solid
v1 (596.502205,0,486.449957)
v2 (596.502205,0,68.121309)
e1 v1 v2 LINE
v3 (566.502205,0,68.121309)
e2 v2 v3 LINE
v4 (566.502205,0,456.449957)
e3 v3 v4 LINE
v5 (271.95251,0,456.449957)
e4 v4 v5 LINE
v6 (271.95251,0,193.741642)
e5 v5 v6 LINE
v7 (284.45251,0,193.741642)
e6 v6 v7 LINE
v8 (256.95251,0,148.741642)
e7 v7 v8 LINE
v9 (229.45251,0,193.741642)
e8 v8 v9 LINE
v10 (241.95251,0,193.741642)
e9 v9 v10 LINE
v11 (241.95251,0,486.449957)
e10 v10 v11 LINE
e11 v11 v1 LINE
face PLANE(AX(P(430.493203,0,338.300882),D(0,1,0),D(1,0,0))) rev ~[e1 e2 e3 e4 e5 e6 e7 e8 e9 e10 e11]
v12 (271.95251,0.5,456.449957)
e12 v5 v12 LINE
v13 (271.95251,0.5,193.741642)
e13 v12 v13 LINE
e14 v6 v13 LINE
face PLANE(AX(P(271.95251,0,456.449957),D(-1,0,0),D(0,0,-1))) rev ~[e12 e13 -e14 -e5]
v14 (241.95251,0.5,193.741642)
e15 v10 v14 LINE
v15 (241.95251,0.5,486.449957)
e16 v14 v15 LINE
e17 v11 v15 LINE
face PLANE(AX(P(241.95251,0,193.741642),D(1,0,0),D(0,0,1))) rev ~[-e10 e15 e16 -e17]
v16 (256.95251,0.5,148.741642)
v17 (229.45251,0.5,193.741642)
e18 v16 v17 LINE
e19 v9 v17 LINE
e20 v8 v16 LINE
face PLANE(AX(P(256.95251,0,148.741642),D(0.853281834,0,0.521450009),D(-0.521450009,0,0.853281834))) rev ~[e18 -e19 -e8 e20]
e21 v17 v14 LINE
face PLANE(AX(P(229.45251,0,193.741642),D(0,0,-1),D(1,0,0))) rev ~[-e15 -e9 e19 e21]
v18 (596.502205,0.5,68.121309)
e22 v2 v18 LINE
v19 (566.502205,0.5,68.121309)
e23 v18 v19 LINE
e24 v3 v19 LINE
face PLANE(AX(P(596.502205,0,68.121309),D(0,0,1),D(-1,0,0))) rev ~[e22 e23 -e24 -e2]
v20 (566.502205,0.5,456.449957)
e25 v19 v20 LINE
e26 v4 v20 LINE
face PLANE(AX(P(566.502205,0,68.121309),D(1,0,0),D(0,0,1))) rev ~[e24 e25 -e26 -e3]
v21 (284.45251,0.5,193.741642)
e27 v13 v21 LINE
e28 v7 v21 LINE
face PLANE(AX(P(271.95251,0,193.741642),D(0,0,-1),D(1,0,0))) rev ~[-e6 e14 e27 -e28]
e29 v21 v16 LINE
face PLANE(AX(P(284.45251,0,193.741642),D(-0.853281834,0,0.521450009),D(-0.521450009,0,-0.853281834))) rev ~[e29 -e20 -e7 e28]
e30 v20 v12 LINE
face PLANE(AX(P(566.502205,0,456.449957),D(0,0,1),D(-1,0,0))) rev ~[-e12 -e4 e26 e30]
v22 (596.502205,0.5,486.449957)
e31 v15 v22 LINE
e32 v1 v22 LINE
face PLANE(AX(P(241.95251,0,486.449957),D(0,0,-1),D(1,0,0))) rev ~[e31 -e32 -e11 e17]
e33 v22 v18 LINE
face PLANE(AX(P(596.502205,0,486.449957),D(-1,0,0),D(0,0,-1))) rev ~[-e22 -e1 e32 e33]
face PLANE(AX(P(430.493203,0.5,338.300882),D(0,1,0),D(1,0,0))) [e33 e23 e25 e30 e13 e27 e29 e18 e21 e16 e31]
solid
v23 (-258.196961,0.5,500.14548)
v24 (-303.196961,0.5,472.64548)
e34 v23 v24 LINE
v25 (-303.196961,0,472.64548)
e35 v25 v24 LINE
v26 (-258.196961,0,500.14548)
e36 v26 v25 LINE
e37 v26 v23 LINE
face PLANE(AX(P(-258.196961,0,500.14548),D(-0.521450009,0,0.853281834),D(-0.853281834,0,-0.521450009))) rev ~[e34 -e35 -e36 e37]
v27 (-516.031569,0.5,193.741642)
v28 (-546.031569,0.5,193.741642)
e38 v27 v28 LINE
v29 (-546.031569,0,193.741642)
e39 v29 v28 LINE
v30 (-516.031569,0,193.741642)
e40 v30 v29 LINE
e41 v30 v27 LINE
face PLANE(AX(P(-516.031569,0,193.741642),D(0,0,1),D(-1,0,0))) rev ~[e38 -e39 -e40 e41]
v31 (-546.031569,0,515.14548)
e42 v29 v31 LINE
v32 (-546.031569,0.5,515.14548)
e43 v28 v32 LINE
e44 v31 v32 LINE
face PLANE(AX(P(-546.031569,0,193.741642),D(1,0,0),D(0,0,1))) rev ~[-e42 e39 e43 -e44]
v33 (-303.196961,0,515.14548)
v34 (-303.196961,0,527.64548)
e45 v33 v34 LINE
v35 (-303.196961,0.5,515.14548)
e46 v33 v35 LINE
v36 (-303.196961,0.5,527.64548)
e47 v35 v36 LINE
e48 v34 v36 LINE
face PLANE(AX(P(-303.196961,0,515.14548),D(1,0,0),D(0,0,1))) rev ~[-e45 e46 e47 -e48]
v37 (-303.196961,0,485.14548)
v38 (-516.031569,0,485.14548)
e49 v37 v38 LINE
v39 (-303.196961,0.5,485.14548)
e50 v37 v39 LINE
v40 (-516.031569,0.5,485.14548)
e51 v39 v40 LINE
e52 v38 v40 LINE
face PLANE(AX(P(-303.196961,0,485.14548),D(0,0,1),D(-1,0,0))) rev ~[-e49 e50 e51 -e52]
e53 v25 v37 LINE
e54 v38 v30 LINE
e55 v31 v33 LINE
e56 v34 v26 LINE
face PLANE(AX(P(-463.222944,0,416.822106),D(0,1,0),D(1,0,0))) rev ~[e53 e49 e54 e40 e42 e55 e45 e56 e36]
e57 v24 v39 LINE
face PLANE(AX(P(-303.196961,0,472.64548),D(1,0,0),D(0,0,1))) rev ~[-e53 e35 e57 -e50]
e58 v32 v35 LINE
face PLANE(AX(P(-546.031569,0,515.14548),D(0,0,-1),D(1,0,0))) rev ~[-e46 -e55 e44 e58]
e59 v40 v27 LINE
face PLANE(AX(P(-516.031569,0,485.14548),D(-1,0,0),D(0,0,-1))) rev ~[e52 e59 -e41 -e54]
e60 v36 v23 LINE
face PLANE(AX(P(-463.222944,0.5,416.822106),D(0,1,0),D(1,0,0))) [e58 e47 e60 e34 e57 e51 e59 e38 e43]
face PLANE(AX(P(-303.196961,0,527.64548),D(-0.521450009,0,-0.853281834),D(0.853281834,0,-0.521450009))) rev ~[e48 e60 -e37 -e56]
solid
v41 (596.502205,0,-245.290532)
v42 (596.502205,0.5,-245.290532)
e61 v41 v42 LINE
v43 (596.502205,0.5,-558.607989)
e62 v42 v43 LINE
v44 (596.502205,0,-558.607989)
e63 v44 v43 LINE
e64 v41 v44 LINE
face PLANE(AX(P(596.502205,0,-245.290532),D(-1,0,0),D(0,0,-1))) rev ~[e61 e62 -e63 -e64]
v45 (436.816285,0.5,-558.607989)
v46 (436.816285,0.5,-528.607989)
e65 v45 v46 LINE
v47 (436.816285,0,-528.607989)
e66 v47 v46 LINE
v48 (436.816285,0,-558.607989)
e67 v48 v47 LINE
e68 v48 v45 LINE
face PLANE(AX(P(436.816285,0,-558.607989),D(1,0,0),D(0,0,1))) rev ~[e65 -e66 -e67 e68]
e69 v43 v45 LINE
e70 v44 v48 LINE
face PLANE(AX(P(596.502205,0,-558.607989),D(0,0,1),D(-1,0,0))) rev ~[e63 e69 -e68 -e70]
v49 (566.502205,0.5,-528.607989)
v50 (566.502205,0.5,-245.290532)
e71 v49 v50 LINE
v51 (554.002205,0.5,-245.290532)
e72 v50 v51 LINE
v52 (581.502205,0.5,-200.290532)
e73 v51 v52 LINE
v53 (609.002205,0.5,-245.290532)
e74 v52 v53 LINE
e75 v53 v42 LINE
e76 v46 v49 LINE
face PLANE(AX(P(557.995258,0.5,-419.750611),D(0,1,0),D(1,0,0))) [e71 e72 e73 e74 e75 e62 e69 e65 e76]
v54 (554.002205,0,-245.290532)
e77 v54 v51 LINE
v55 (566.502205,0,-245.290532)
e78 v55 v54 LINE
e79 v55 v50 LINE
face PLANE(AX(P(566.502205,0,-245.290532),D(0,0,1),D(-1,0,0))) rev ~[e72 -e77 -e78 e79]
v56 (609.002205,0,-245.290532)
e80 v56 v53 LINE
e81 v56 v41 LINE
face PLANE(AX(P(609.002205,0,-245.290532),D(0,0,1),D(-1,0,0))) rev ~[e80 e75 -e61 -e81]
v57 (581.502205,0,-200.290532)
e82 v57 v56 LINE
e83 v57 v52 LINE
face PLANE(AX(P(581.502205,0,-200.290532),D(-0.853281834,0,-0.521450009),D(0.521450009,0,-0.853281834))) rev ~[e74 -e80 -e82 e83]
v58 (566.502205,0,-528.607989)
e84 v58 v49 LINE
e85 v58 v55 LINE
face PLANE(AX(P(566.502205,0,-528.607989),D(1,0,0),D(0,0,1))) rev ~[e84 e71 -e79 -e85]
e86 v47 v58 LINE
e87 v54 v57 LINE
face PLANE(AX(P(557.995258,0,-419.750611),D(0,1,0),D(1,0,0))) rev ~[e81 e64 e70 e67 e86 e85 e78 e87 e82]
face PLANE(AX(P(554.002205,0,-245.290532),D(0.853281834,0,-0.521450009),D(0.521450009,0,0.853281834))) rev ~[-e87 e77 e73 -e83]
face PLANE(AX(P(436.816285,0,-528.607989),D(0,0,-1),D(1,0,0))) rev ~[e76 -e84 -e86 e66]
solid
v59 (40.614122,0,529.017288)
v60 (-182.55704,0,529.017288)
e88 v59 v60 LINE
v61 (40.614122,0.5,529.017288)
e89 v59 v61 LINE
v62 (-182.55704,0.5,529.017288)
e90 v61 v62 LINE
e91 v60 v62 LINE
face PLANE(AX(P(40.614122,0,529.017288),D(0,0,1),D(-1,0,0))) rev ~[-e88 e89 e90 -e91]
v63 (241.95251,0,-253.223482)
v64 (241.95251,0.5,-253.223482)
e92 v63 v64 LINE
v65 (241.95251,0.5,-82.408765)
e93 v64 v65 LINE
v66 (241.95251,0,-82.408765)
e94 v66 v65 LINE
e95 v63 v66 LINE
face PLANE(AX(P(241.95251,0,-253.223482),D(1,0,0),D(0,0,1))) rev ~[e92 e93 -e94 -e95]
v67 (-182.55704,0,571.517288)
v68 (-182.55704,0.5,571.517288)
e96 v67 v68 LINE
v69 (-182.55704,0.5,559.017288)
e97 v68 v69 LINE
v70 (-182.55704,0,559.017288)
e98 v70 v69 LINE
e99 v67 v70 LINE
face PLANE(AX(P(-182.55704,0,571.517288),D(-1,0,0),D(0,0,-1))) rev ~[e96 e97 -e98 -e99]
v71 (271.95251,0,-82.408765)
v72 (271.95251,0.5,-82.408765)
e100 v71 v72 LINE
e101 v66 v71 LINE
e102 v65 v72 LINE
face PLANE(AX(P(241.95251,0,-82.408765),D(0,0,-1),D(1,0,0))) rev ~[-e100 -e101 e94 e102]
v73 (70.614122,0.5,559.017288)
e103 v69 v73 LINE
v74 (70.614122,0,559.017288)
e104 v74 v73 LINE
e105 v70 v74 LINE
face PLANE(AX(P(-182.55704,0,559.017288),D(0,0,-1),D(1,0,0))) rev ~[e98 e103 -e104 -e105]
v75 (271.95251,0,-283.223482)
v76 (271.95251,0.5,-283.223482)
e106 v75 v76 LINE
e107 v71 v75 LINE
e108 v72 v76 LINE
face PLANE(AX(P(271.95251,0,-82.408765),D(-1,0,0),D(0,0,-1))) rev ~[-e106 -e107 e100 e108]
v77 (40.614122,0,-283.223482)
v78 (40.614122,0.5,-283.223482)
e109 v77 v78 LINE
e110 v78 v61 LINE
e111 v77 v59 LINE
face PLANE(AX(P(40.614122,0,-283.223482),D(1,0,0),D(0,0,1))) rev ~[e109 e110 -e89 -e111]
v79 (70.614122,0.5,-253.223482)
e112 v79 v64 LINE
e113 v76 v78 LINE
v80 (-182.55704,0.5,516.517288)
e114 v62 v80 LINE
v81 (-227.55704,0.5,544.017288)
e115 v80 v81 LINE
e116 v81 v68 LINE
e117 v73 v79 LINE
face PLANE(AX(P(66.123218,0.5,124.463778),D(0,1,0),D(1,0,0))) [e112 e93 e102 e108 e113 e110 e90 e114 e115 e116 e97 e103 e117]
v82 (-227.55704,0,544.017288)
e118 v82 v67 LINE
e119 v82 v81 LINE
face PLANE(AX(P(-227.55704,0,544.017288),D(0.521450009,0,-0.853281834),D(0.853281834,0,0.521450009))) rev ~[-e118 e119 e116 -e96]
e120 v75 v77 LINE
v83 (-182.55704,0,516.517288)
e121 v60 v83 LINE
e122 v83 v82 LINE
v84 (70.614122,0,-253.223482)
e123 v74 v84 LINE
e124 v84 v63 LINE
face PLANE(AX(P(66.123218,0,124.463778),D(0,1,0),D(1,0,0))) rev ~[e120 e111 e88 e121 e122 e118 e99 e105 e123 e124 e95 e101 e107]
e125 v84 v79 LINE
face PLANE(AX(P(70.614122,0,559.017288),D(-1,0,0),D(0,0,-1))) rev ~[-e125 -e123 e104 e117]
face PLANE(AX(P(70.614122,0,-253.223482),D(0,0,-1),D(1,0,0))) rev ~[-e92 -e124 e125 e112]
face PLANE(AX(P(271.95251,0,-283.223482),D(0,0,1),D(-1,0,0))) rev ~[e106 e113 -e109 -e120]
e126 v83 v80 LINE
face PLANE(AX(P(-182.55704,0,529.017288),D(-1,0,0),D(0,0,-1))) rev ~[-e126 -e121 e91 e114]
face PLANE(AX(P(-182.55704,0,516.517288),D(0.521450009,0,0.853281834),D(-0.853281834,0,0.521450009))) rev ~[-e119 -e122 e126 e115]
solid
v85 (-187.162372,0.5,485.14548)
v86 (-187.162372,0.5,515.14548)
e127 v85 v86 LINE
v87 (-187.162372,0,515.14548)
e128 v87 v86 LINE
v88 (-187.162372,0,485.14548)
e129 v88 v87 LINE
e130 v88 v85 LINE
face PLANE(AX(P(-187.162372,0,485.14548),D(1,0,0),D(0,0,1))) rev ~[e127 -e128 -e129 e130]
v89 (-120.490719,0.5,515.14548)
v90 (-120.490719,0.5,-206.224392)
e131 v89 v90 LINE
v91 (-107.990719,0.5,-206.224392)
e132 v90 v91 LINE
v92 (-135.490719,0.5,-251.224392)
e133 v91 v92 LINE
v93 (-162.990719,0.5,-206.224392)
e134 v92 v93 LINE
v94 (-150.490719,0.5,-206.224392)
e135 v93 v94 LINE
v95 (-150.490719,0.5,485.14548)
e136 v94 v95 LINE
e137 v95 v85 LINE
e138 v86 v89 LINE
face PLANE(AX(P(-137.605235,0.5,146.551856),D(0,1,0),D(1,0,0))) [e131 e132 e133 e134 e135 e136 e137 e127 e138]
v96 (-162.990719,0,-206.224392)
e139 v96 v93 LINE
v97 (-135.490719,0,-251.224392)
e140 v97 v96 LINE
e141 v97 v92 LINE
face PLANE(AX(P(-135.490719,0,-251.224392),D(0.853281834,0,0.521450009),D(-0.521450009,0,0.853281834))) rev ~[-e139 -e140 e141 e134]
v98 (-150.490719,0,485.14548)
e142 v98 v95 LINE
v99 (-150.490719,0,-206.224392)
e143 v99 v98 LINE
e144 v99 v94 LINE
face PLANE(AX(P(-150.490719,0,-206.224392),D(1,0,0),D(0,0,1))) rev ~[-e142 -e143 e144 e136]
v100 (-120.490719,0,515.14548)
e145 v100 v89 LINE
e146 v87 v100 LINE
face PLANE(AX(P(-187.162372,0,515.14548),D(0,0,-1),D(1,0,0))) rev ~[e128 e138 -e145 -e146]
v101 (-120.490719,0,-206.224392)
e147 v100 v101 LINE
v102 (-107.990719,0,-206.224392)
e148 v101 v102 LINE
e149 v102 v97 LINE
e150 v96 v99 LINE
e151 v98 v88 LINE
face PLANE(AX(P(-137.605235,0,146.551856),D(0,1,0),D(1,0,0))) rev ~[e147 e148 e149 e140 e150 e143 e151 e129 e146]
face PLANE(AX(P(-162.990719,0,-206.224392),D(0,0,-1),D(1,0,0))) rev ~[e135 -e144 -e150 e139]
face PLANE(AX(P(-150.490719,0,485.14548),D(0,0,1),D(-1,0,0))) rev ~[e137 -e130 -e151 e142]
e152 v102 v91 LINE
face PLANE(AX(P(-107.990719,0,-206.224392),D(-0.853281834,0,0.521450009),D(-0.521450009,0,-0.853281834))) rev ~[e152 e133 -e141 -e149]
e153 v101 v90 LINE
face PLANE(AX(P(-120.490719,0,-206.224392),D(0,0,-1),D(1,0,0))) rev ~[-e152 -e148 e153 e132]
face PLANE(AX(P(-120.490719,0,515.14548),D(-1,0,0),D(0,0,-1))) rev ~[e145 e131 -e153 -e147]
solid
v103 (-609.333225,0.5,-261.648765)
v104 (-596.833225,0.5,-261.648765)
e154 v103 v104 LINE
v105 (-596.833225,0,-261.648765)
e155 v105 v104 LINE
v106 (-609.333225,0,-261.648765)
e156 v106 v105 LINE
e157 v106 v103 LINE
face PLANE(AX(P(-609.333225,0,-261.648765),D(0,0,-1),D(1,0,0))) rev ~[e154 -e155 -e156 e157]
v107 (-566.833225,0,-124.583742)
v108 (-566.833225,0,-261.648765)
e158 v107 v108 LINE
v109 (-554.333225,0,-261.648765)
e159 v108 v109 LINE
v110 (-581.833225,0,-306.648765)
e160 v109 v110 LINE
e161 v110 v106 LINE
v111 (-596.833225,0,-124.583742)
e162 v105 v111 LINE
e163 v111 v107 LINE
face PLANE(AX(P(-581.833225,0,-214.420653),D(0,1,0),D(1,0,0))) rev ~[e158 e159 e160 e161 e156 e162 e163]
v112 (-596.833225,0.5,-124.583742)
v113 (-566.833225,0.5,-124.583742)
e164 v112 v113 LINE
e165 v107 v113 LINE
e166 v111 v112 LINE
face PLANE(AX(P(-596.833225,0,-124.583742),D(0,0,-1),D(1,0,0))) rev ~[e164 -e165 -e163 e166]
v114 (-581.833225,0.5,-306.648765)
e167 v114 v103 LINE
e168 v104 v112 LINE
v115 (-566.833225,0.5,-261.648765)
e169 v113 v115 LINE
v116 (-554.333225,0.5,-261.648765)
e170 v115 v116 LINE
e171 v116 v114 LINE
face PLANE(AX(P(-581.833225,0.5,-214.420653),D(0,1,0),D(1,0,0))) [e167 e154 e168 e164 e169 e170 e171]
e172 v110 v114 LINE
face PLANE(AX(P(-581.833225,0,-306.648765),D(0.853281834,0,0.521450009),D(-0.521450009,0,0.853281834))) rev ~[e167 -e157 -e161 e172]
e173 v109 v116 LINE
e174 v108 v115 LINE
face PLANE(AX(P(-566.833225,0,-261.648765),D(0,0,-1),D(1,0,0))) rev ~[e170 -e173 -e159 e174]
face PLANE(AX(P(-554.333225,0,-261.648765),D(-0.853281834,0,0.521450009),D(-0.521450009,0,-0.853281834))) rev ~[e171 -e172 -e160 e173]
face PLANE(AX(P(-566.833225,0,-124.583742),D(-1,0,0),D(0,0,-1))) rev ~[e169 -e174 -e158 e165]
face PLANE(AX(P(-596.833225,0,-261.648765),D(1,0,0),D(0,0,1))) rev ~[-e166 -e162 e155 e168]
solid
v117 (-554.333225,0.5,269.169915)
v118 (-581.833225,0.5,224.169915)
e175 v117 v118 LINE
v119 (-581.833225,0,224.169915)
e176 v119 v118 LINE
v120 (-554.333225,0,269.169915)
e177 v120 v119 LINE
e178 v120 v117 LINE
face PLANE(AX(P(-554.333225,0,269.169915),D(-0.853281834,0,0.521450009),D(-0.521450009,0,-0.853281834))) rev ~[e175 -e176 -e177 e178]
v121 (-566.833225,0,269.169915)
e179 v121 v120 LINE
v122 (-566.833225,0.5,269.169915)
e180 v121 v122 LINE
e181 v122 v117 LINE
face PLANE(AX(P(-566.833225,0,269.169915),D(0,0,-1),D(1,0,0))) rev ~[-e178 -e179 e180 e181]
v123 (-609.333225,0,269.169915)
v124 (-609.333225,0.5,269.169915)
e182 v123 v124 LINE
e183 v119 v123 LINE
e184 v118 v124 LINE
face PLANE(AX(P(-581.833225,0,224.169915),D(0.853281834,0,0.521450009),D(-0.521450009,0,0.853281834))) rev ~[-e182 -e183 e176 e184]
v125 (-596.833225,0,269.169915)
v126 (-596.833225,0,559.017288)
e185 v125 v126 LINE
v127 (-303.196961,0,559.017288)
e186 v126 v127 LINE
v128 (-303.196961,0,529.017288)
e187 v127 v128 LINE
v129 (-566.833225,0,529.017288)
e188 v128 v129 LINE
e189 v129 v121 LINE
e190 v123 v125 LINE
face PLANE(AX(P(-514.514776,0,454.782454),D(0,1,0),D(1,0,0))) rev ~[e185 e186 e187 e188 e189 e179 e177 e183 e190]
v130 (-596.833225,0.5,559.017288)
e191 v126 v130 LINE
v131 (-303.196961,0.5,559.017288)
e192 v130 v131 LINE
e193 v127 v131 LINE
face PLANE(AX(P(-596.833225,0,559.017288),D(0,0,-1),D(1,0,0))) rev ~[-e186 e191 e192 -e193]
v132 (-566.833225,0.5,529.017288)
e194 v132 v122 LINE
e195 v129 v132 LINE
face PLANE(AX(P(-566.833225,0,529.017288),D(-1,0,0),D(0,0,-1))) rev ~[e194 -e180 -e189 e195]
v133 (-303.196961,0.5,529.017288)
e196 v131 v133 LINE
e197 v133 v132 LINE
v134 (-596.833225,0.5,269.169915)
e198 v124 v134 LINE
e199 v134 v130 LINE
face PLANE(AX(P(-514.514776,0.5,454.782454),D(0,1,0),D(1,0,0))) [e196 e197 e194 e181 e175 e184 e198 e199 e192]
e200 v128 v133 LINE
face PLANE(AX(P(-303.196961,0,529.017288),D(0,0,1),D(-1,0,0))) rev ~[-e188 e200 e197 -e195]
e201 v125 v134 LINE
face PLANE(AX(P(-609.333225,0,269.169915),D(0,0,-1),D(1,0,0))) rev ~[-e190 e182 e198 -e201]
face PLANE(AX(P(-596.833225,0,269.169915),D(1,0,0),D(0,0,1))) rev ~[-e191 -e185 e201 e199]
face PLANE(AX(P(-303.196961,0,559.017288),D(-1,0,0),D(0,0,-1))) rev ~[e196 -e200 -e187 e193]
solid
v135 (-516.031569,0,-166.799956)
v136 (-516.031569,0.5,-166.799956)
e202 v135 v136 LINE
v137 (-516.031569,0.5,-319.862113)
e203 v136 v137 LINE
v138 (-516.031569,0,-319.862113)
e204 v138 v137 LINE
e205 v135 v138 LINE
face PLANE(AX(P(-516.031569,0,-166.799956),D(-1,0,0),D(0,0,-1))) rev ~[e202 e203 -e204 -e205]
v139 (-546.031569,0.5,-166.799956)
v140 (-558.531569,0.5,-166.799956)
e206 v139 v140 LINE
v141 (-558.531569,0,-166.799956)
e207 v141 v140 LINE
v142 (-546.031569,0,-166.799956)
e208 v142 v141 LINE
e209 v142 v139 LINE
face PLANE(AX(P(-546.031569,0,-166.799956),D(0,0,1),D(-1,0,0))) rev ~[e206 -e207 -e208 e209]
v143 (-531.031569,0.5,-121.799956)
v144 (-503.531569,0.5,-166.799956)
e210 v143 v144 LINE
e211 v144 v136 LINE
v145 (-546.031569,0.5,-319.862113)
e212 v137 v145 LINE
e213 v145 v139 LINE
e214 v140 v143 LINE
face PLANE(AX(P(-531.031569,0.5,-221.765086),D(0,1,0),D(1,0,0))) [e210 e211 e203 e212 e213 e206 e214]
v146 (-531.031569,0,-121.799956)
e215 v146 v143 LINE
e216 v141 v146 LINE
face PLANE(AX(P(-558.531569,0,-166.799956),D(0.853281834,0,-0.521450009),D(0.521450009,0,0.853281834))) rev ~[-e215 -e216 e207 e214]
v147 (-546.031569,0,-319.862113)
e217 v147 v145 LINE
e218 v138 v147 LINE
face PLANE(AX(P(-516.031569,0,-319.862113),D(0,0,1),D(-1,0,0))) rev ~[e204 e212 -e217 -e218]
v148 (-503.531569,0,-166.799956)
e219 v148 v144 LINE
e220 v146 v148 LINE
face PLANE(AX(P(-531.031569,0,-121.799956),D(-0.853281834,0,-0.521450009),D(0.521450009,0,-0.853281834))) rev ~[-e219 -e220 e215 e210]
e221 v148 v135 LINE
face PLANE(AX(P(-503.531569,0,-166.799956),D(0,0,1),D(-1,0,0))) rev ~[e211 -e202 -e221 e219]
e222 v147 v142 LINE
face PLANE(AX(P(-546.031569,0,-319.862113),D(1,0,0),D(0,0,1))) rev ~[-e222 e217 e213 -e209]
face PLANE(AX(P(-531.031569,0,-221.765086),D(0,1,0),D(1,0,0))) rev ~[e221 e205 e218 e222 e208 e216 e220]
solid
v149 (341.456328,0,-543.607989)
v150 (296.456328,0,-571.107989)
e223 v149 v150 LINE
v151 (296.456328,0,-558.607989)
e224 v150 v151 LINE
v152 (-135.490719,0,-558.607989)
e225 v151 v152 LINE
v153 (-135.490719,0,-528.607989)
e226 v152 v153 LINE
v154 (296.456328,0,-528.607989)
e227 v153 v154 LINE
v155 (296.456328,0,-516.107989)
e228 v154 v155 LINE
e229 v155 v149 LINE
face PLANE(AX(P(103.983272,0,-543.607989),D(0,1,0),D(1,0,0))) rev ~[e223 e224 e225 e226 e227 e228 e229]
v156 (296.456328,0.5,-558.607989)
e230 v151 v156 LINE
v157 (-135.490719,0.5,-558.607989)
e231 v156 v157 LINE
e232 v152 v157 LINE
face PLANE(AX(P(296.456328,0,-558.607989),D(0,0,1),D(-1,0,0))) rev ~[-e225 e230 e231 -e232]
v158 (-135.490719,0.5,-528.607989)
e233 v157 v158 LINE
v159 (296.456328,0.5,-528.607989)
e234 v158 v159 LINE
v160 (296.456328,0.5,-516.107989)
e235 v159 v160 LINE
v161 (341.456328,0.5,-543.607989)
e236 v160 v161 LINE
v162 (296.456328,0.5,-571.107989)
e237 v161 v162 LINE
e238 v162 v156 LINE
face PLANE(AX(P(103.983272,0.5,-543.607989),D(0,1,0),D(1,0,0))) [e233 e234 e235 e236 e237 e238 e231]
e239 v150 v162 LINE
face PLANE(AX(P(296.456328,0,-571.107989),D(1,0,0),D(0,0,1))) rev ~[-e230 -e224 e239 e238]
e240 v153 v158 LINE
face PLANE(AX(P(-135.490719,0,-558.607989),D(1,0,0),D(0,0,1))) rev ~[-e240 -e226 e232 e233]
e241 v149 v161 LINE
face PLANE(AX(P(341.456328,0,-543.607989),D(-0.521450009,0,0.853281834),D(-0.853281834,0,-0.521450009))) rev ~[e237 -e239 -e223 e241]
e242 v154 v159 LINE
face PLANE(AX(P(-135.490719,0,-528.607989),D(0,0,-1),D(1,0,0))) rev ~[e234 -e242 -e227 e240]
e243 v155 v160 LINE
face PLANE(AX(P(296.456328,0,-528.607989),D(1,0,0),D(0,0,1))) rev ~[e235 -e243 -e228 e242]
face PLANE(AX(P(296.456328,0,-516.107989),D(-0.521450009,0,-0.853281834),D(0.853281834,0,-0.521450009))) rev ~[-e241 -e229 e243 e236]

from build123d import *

# Parameters (mm, degrees)
BOSS_EXTRUDE2_DEPTH   = 0.5
BOSS_EXTRUDE2_2_DEPTH = 0.5
BOSS_EXTRUDE2_3_DEPTH = 0.5
BOSS_EXTRUDE2_4_DEPTH = 0.5
BOSS_EXTRUDE2_5_DEPTH = 0.5
BOSS_EXTRUDE2_6_DEPTH = 0.5
BOSS_EXTRUDE2_7_DEPTH = 0.5
BOSS_EXTRUDE2_8_DEPTH = 0.5
BOSS_EXTRUDE2_9_DEPTH = 0.5


with BuildPart() as part:
    # Sketch2 → Boss-Extrude2 (new body)
    with BuildSketch(Plane(origin=(0, 0, 0), x_dir=(1, 0, 0), z_dir=(0, 1, 0))):
        Polygon((-546.031568855, 319.862112689), (-546.031568855, 166.799956279), (-558.531568855, 166.799956279), (-531.031568855, 121.799956279), (-503.531568855, 166.799956279), (-516.031568855, 166.799956279), (-516.031568855, 319.862112689), align=None)
    extrude(amount=BOSS_EXTRUDE2_DEPTH)


with BuildPart() as body_2:
    # Sketch2 → Boss-Extrude2 2 (new body)
    with BuildSketch(Plane(origin=(0, 0, 0), x_dir=(1, 0, 0), z_dir=(0, 1, 0))):
        Polygon((-566.833224962, 124.583741857), (-566.833224962, 261.648764577), (-554.333224962, 261.648764577), (-581.833224962, 306.648764577), (-609.333224962, 261.648764577), (-596.833224962, 261.648764577), (-596.833224962, 124.583741857), align=None)
    extrude(amount=BOSS_EXTRUDE2_2_DEPTH)


with BuildPart() as body_3:
    # Sketch2 → Boss-Extrude2 3 (new body)
    with BuildSketch(Plane(origin=(0, 0, 0), x_dir=(1, 0, 0), z_dir=(0, 1, 0))):
        Polygon((-546.031568855, -193.74164228), (-546.031568855, -515.145479506), (-303.196960885, -515.145479506), (-303.196960885, -527.645479506), (-258.196960885, -500.145479506), (-303.196960885, -472.645479506), (-303.196960885, -485.145479506), (-516.031568855, -485.145479506), (-516.031568855, -193.74164228), align=None)
    extrude(amount=BOSS_EXTRUDE2_3_DEPTH)


with BuildPart() as body_4:
    # Sketch2 → Boss-Extrude2 4 (new body)
    with BuildSketch(Plane(origin=(0, 0, 0), x_dir=(1, 0, 0), z_dir=(0, 1, 0))):
        Polygon((-303.196960885, -529.017288308), (-566.833224962, -529.017288308), (-566.833224962, -269.169915432), (-554.333224962, -269.169915432), (-581.833224962, -224.169915432), (-609.333224962, -269.169915432), (-596.833224962, -269.169915432), (-596.833224962, -559.017288308), (-303.196960885, -559.017288308), align=None)
    extrude(amount=BOSS_EXTRUDE2_4_DEPTH)


with BuildPart() as body_5:
    # Sketch2 → Boss-Extrude2 5 (new body)
    with BuildSketch(Plane(origin=(0, 0, 0), x_dir=(1, 0, 0), z_dir=(0, 1, 0))):
        Polygon((-187.162371639, -515.145479506), (-120.490718616, -515.145479506), (-120.490718616, 206.224391534), (-107.990718616, 206.224391534), (-135.490718616, 251.224391534), (-162.990718616, 206.224391534), (-150.490718616, 206.224391534), (-150.490718616, -485.145479506), (-187.162371639, -485.145479506), align=None)
    extrude(amount=BOSS_EXTRUDE2_5_DEPTH)


with BuildPart() as body_6:
    # Sketch2 → Boss-Extrude2 6 (new body)
    with BuildSketch(Plane(origin=(0, 0, 0), x_dir=(1, 0, 0), z_dir=(0, 1, 0))):
        Polygon((271.952509575, 82.408764577), (271.952509575, 283.223482013), (40.614122477, 283.223482013), (40.614122477, -529.017288308), (-182.557040075, -529.017288308), (-182.557040075, -516.517288308), (-227.557040075, -544.017288308), (-182.557040075, -571.517288308), (-182.557040075, -559.017288308), (70.614122477, -559.017288308), (70.614122477, 253.223482013), (241.952509575, 253.223482013), (241.952509575, 82.408764577), align=None)
    extrude(amount=BOSS_EXTRUDE2_6_DEPTH)


with BuildPart() as body_7:
    # Sketch2 → Boss-Extrude2 7 (new body)
    with BuildSketch(Plane(origin=(0, 0, 0), x_dir=(1, 0, 0), z_dir=(0, 1, 0))):
        Polygon((-135.490718616, 528.607988525), (296.456327596, 528.607988525), (296.456327596, 516.107988525), (341.456327596, 543.607988525), (296.456327596, 571.107988525), (296.456327596, 558.607988525), (-135.490718616, 558.607988525), align=None)
    extrude(amount=BOSS_EXTRUDE2_7_DEPTH)


with BuildPart() as body_8:
    # Sketch2 → Boss-Extrude2 8 (new body)
    with BuildSketch(Plane(origin=(0, 0, 0), x_dir=(1, 0, 0), z_dir=(0, 1, 0))):
        Polygon((436.816285163, 528.607988525), (566.502204629, 528.607988525), (566.502204629, 245.290532335), (554.002204629, 245.290532335), (581.502204629, 200.290532335), (609.002204629, 245.290532335), (596.502204629, 245.290532335), (596.502204629, 558.607988525), (436.816285163, 558.607988525), align=None)
    extrude(amount=BOSS_EXTRUDE2_8_DEPTH)


with BuildPart() as body_9:
    # Sketch2 → Boss-Extrude2 9 (new body)
    with BuildSketch(Plane(origin=(0, 0, 0), x_dir=(1, 0, 0), z_dir=(0, 1, 0))):
        Polygon((566.502204629, -68.121309006), (566.502204629, -456.449956977), (271.952509575, -456.449956977), (271.952509575, -193.74164228), (284.452509575, -193.74164228), (256.952509575, -148.74164228), (229.452509575, -193.74164228), (241.952509575, -193.74164228), (241.952509575, -486.449956977), (596.502204629, -486.449956977), (596.502204629, -68.121309006), align=None)
    extrude(amount=BOSS_EXTRUDE2_9_DEPTH)


solid = Compound([part.part, body_2.part, body_3.part, body_4.part, body_5.part, body_6.part, body_7.part, body_8.part, body_9.part])
